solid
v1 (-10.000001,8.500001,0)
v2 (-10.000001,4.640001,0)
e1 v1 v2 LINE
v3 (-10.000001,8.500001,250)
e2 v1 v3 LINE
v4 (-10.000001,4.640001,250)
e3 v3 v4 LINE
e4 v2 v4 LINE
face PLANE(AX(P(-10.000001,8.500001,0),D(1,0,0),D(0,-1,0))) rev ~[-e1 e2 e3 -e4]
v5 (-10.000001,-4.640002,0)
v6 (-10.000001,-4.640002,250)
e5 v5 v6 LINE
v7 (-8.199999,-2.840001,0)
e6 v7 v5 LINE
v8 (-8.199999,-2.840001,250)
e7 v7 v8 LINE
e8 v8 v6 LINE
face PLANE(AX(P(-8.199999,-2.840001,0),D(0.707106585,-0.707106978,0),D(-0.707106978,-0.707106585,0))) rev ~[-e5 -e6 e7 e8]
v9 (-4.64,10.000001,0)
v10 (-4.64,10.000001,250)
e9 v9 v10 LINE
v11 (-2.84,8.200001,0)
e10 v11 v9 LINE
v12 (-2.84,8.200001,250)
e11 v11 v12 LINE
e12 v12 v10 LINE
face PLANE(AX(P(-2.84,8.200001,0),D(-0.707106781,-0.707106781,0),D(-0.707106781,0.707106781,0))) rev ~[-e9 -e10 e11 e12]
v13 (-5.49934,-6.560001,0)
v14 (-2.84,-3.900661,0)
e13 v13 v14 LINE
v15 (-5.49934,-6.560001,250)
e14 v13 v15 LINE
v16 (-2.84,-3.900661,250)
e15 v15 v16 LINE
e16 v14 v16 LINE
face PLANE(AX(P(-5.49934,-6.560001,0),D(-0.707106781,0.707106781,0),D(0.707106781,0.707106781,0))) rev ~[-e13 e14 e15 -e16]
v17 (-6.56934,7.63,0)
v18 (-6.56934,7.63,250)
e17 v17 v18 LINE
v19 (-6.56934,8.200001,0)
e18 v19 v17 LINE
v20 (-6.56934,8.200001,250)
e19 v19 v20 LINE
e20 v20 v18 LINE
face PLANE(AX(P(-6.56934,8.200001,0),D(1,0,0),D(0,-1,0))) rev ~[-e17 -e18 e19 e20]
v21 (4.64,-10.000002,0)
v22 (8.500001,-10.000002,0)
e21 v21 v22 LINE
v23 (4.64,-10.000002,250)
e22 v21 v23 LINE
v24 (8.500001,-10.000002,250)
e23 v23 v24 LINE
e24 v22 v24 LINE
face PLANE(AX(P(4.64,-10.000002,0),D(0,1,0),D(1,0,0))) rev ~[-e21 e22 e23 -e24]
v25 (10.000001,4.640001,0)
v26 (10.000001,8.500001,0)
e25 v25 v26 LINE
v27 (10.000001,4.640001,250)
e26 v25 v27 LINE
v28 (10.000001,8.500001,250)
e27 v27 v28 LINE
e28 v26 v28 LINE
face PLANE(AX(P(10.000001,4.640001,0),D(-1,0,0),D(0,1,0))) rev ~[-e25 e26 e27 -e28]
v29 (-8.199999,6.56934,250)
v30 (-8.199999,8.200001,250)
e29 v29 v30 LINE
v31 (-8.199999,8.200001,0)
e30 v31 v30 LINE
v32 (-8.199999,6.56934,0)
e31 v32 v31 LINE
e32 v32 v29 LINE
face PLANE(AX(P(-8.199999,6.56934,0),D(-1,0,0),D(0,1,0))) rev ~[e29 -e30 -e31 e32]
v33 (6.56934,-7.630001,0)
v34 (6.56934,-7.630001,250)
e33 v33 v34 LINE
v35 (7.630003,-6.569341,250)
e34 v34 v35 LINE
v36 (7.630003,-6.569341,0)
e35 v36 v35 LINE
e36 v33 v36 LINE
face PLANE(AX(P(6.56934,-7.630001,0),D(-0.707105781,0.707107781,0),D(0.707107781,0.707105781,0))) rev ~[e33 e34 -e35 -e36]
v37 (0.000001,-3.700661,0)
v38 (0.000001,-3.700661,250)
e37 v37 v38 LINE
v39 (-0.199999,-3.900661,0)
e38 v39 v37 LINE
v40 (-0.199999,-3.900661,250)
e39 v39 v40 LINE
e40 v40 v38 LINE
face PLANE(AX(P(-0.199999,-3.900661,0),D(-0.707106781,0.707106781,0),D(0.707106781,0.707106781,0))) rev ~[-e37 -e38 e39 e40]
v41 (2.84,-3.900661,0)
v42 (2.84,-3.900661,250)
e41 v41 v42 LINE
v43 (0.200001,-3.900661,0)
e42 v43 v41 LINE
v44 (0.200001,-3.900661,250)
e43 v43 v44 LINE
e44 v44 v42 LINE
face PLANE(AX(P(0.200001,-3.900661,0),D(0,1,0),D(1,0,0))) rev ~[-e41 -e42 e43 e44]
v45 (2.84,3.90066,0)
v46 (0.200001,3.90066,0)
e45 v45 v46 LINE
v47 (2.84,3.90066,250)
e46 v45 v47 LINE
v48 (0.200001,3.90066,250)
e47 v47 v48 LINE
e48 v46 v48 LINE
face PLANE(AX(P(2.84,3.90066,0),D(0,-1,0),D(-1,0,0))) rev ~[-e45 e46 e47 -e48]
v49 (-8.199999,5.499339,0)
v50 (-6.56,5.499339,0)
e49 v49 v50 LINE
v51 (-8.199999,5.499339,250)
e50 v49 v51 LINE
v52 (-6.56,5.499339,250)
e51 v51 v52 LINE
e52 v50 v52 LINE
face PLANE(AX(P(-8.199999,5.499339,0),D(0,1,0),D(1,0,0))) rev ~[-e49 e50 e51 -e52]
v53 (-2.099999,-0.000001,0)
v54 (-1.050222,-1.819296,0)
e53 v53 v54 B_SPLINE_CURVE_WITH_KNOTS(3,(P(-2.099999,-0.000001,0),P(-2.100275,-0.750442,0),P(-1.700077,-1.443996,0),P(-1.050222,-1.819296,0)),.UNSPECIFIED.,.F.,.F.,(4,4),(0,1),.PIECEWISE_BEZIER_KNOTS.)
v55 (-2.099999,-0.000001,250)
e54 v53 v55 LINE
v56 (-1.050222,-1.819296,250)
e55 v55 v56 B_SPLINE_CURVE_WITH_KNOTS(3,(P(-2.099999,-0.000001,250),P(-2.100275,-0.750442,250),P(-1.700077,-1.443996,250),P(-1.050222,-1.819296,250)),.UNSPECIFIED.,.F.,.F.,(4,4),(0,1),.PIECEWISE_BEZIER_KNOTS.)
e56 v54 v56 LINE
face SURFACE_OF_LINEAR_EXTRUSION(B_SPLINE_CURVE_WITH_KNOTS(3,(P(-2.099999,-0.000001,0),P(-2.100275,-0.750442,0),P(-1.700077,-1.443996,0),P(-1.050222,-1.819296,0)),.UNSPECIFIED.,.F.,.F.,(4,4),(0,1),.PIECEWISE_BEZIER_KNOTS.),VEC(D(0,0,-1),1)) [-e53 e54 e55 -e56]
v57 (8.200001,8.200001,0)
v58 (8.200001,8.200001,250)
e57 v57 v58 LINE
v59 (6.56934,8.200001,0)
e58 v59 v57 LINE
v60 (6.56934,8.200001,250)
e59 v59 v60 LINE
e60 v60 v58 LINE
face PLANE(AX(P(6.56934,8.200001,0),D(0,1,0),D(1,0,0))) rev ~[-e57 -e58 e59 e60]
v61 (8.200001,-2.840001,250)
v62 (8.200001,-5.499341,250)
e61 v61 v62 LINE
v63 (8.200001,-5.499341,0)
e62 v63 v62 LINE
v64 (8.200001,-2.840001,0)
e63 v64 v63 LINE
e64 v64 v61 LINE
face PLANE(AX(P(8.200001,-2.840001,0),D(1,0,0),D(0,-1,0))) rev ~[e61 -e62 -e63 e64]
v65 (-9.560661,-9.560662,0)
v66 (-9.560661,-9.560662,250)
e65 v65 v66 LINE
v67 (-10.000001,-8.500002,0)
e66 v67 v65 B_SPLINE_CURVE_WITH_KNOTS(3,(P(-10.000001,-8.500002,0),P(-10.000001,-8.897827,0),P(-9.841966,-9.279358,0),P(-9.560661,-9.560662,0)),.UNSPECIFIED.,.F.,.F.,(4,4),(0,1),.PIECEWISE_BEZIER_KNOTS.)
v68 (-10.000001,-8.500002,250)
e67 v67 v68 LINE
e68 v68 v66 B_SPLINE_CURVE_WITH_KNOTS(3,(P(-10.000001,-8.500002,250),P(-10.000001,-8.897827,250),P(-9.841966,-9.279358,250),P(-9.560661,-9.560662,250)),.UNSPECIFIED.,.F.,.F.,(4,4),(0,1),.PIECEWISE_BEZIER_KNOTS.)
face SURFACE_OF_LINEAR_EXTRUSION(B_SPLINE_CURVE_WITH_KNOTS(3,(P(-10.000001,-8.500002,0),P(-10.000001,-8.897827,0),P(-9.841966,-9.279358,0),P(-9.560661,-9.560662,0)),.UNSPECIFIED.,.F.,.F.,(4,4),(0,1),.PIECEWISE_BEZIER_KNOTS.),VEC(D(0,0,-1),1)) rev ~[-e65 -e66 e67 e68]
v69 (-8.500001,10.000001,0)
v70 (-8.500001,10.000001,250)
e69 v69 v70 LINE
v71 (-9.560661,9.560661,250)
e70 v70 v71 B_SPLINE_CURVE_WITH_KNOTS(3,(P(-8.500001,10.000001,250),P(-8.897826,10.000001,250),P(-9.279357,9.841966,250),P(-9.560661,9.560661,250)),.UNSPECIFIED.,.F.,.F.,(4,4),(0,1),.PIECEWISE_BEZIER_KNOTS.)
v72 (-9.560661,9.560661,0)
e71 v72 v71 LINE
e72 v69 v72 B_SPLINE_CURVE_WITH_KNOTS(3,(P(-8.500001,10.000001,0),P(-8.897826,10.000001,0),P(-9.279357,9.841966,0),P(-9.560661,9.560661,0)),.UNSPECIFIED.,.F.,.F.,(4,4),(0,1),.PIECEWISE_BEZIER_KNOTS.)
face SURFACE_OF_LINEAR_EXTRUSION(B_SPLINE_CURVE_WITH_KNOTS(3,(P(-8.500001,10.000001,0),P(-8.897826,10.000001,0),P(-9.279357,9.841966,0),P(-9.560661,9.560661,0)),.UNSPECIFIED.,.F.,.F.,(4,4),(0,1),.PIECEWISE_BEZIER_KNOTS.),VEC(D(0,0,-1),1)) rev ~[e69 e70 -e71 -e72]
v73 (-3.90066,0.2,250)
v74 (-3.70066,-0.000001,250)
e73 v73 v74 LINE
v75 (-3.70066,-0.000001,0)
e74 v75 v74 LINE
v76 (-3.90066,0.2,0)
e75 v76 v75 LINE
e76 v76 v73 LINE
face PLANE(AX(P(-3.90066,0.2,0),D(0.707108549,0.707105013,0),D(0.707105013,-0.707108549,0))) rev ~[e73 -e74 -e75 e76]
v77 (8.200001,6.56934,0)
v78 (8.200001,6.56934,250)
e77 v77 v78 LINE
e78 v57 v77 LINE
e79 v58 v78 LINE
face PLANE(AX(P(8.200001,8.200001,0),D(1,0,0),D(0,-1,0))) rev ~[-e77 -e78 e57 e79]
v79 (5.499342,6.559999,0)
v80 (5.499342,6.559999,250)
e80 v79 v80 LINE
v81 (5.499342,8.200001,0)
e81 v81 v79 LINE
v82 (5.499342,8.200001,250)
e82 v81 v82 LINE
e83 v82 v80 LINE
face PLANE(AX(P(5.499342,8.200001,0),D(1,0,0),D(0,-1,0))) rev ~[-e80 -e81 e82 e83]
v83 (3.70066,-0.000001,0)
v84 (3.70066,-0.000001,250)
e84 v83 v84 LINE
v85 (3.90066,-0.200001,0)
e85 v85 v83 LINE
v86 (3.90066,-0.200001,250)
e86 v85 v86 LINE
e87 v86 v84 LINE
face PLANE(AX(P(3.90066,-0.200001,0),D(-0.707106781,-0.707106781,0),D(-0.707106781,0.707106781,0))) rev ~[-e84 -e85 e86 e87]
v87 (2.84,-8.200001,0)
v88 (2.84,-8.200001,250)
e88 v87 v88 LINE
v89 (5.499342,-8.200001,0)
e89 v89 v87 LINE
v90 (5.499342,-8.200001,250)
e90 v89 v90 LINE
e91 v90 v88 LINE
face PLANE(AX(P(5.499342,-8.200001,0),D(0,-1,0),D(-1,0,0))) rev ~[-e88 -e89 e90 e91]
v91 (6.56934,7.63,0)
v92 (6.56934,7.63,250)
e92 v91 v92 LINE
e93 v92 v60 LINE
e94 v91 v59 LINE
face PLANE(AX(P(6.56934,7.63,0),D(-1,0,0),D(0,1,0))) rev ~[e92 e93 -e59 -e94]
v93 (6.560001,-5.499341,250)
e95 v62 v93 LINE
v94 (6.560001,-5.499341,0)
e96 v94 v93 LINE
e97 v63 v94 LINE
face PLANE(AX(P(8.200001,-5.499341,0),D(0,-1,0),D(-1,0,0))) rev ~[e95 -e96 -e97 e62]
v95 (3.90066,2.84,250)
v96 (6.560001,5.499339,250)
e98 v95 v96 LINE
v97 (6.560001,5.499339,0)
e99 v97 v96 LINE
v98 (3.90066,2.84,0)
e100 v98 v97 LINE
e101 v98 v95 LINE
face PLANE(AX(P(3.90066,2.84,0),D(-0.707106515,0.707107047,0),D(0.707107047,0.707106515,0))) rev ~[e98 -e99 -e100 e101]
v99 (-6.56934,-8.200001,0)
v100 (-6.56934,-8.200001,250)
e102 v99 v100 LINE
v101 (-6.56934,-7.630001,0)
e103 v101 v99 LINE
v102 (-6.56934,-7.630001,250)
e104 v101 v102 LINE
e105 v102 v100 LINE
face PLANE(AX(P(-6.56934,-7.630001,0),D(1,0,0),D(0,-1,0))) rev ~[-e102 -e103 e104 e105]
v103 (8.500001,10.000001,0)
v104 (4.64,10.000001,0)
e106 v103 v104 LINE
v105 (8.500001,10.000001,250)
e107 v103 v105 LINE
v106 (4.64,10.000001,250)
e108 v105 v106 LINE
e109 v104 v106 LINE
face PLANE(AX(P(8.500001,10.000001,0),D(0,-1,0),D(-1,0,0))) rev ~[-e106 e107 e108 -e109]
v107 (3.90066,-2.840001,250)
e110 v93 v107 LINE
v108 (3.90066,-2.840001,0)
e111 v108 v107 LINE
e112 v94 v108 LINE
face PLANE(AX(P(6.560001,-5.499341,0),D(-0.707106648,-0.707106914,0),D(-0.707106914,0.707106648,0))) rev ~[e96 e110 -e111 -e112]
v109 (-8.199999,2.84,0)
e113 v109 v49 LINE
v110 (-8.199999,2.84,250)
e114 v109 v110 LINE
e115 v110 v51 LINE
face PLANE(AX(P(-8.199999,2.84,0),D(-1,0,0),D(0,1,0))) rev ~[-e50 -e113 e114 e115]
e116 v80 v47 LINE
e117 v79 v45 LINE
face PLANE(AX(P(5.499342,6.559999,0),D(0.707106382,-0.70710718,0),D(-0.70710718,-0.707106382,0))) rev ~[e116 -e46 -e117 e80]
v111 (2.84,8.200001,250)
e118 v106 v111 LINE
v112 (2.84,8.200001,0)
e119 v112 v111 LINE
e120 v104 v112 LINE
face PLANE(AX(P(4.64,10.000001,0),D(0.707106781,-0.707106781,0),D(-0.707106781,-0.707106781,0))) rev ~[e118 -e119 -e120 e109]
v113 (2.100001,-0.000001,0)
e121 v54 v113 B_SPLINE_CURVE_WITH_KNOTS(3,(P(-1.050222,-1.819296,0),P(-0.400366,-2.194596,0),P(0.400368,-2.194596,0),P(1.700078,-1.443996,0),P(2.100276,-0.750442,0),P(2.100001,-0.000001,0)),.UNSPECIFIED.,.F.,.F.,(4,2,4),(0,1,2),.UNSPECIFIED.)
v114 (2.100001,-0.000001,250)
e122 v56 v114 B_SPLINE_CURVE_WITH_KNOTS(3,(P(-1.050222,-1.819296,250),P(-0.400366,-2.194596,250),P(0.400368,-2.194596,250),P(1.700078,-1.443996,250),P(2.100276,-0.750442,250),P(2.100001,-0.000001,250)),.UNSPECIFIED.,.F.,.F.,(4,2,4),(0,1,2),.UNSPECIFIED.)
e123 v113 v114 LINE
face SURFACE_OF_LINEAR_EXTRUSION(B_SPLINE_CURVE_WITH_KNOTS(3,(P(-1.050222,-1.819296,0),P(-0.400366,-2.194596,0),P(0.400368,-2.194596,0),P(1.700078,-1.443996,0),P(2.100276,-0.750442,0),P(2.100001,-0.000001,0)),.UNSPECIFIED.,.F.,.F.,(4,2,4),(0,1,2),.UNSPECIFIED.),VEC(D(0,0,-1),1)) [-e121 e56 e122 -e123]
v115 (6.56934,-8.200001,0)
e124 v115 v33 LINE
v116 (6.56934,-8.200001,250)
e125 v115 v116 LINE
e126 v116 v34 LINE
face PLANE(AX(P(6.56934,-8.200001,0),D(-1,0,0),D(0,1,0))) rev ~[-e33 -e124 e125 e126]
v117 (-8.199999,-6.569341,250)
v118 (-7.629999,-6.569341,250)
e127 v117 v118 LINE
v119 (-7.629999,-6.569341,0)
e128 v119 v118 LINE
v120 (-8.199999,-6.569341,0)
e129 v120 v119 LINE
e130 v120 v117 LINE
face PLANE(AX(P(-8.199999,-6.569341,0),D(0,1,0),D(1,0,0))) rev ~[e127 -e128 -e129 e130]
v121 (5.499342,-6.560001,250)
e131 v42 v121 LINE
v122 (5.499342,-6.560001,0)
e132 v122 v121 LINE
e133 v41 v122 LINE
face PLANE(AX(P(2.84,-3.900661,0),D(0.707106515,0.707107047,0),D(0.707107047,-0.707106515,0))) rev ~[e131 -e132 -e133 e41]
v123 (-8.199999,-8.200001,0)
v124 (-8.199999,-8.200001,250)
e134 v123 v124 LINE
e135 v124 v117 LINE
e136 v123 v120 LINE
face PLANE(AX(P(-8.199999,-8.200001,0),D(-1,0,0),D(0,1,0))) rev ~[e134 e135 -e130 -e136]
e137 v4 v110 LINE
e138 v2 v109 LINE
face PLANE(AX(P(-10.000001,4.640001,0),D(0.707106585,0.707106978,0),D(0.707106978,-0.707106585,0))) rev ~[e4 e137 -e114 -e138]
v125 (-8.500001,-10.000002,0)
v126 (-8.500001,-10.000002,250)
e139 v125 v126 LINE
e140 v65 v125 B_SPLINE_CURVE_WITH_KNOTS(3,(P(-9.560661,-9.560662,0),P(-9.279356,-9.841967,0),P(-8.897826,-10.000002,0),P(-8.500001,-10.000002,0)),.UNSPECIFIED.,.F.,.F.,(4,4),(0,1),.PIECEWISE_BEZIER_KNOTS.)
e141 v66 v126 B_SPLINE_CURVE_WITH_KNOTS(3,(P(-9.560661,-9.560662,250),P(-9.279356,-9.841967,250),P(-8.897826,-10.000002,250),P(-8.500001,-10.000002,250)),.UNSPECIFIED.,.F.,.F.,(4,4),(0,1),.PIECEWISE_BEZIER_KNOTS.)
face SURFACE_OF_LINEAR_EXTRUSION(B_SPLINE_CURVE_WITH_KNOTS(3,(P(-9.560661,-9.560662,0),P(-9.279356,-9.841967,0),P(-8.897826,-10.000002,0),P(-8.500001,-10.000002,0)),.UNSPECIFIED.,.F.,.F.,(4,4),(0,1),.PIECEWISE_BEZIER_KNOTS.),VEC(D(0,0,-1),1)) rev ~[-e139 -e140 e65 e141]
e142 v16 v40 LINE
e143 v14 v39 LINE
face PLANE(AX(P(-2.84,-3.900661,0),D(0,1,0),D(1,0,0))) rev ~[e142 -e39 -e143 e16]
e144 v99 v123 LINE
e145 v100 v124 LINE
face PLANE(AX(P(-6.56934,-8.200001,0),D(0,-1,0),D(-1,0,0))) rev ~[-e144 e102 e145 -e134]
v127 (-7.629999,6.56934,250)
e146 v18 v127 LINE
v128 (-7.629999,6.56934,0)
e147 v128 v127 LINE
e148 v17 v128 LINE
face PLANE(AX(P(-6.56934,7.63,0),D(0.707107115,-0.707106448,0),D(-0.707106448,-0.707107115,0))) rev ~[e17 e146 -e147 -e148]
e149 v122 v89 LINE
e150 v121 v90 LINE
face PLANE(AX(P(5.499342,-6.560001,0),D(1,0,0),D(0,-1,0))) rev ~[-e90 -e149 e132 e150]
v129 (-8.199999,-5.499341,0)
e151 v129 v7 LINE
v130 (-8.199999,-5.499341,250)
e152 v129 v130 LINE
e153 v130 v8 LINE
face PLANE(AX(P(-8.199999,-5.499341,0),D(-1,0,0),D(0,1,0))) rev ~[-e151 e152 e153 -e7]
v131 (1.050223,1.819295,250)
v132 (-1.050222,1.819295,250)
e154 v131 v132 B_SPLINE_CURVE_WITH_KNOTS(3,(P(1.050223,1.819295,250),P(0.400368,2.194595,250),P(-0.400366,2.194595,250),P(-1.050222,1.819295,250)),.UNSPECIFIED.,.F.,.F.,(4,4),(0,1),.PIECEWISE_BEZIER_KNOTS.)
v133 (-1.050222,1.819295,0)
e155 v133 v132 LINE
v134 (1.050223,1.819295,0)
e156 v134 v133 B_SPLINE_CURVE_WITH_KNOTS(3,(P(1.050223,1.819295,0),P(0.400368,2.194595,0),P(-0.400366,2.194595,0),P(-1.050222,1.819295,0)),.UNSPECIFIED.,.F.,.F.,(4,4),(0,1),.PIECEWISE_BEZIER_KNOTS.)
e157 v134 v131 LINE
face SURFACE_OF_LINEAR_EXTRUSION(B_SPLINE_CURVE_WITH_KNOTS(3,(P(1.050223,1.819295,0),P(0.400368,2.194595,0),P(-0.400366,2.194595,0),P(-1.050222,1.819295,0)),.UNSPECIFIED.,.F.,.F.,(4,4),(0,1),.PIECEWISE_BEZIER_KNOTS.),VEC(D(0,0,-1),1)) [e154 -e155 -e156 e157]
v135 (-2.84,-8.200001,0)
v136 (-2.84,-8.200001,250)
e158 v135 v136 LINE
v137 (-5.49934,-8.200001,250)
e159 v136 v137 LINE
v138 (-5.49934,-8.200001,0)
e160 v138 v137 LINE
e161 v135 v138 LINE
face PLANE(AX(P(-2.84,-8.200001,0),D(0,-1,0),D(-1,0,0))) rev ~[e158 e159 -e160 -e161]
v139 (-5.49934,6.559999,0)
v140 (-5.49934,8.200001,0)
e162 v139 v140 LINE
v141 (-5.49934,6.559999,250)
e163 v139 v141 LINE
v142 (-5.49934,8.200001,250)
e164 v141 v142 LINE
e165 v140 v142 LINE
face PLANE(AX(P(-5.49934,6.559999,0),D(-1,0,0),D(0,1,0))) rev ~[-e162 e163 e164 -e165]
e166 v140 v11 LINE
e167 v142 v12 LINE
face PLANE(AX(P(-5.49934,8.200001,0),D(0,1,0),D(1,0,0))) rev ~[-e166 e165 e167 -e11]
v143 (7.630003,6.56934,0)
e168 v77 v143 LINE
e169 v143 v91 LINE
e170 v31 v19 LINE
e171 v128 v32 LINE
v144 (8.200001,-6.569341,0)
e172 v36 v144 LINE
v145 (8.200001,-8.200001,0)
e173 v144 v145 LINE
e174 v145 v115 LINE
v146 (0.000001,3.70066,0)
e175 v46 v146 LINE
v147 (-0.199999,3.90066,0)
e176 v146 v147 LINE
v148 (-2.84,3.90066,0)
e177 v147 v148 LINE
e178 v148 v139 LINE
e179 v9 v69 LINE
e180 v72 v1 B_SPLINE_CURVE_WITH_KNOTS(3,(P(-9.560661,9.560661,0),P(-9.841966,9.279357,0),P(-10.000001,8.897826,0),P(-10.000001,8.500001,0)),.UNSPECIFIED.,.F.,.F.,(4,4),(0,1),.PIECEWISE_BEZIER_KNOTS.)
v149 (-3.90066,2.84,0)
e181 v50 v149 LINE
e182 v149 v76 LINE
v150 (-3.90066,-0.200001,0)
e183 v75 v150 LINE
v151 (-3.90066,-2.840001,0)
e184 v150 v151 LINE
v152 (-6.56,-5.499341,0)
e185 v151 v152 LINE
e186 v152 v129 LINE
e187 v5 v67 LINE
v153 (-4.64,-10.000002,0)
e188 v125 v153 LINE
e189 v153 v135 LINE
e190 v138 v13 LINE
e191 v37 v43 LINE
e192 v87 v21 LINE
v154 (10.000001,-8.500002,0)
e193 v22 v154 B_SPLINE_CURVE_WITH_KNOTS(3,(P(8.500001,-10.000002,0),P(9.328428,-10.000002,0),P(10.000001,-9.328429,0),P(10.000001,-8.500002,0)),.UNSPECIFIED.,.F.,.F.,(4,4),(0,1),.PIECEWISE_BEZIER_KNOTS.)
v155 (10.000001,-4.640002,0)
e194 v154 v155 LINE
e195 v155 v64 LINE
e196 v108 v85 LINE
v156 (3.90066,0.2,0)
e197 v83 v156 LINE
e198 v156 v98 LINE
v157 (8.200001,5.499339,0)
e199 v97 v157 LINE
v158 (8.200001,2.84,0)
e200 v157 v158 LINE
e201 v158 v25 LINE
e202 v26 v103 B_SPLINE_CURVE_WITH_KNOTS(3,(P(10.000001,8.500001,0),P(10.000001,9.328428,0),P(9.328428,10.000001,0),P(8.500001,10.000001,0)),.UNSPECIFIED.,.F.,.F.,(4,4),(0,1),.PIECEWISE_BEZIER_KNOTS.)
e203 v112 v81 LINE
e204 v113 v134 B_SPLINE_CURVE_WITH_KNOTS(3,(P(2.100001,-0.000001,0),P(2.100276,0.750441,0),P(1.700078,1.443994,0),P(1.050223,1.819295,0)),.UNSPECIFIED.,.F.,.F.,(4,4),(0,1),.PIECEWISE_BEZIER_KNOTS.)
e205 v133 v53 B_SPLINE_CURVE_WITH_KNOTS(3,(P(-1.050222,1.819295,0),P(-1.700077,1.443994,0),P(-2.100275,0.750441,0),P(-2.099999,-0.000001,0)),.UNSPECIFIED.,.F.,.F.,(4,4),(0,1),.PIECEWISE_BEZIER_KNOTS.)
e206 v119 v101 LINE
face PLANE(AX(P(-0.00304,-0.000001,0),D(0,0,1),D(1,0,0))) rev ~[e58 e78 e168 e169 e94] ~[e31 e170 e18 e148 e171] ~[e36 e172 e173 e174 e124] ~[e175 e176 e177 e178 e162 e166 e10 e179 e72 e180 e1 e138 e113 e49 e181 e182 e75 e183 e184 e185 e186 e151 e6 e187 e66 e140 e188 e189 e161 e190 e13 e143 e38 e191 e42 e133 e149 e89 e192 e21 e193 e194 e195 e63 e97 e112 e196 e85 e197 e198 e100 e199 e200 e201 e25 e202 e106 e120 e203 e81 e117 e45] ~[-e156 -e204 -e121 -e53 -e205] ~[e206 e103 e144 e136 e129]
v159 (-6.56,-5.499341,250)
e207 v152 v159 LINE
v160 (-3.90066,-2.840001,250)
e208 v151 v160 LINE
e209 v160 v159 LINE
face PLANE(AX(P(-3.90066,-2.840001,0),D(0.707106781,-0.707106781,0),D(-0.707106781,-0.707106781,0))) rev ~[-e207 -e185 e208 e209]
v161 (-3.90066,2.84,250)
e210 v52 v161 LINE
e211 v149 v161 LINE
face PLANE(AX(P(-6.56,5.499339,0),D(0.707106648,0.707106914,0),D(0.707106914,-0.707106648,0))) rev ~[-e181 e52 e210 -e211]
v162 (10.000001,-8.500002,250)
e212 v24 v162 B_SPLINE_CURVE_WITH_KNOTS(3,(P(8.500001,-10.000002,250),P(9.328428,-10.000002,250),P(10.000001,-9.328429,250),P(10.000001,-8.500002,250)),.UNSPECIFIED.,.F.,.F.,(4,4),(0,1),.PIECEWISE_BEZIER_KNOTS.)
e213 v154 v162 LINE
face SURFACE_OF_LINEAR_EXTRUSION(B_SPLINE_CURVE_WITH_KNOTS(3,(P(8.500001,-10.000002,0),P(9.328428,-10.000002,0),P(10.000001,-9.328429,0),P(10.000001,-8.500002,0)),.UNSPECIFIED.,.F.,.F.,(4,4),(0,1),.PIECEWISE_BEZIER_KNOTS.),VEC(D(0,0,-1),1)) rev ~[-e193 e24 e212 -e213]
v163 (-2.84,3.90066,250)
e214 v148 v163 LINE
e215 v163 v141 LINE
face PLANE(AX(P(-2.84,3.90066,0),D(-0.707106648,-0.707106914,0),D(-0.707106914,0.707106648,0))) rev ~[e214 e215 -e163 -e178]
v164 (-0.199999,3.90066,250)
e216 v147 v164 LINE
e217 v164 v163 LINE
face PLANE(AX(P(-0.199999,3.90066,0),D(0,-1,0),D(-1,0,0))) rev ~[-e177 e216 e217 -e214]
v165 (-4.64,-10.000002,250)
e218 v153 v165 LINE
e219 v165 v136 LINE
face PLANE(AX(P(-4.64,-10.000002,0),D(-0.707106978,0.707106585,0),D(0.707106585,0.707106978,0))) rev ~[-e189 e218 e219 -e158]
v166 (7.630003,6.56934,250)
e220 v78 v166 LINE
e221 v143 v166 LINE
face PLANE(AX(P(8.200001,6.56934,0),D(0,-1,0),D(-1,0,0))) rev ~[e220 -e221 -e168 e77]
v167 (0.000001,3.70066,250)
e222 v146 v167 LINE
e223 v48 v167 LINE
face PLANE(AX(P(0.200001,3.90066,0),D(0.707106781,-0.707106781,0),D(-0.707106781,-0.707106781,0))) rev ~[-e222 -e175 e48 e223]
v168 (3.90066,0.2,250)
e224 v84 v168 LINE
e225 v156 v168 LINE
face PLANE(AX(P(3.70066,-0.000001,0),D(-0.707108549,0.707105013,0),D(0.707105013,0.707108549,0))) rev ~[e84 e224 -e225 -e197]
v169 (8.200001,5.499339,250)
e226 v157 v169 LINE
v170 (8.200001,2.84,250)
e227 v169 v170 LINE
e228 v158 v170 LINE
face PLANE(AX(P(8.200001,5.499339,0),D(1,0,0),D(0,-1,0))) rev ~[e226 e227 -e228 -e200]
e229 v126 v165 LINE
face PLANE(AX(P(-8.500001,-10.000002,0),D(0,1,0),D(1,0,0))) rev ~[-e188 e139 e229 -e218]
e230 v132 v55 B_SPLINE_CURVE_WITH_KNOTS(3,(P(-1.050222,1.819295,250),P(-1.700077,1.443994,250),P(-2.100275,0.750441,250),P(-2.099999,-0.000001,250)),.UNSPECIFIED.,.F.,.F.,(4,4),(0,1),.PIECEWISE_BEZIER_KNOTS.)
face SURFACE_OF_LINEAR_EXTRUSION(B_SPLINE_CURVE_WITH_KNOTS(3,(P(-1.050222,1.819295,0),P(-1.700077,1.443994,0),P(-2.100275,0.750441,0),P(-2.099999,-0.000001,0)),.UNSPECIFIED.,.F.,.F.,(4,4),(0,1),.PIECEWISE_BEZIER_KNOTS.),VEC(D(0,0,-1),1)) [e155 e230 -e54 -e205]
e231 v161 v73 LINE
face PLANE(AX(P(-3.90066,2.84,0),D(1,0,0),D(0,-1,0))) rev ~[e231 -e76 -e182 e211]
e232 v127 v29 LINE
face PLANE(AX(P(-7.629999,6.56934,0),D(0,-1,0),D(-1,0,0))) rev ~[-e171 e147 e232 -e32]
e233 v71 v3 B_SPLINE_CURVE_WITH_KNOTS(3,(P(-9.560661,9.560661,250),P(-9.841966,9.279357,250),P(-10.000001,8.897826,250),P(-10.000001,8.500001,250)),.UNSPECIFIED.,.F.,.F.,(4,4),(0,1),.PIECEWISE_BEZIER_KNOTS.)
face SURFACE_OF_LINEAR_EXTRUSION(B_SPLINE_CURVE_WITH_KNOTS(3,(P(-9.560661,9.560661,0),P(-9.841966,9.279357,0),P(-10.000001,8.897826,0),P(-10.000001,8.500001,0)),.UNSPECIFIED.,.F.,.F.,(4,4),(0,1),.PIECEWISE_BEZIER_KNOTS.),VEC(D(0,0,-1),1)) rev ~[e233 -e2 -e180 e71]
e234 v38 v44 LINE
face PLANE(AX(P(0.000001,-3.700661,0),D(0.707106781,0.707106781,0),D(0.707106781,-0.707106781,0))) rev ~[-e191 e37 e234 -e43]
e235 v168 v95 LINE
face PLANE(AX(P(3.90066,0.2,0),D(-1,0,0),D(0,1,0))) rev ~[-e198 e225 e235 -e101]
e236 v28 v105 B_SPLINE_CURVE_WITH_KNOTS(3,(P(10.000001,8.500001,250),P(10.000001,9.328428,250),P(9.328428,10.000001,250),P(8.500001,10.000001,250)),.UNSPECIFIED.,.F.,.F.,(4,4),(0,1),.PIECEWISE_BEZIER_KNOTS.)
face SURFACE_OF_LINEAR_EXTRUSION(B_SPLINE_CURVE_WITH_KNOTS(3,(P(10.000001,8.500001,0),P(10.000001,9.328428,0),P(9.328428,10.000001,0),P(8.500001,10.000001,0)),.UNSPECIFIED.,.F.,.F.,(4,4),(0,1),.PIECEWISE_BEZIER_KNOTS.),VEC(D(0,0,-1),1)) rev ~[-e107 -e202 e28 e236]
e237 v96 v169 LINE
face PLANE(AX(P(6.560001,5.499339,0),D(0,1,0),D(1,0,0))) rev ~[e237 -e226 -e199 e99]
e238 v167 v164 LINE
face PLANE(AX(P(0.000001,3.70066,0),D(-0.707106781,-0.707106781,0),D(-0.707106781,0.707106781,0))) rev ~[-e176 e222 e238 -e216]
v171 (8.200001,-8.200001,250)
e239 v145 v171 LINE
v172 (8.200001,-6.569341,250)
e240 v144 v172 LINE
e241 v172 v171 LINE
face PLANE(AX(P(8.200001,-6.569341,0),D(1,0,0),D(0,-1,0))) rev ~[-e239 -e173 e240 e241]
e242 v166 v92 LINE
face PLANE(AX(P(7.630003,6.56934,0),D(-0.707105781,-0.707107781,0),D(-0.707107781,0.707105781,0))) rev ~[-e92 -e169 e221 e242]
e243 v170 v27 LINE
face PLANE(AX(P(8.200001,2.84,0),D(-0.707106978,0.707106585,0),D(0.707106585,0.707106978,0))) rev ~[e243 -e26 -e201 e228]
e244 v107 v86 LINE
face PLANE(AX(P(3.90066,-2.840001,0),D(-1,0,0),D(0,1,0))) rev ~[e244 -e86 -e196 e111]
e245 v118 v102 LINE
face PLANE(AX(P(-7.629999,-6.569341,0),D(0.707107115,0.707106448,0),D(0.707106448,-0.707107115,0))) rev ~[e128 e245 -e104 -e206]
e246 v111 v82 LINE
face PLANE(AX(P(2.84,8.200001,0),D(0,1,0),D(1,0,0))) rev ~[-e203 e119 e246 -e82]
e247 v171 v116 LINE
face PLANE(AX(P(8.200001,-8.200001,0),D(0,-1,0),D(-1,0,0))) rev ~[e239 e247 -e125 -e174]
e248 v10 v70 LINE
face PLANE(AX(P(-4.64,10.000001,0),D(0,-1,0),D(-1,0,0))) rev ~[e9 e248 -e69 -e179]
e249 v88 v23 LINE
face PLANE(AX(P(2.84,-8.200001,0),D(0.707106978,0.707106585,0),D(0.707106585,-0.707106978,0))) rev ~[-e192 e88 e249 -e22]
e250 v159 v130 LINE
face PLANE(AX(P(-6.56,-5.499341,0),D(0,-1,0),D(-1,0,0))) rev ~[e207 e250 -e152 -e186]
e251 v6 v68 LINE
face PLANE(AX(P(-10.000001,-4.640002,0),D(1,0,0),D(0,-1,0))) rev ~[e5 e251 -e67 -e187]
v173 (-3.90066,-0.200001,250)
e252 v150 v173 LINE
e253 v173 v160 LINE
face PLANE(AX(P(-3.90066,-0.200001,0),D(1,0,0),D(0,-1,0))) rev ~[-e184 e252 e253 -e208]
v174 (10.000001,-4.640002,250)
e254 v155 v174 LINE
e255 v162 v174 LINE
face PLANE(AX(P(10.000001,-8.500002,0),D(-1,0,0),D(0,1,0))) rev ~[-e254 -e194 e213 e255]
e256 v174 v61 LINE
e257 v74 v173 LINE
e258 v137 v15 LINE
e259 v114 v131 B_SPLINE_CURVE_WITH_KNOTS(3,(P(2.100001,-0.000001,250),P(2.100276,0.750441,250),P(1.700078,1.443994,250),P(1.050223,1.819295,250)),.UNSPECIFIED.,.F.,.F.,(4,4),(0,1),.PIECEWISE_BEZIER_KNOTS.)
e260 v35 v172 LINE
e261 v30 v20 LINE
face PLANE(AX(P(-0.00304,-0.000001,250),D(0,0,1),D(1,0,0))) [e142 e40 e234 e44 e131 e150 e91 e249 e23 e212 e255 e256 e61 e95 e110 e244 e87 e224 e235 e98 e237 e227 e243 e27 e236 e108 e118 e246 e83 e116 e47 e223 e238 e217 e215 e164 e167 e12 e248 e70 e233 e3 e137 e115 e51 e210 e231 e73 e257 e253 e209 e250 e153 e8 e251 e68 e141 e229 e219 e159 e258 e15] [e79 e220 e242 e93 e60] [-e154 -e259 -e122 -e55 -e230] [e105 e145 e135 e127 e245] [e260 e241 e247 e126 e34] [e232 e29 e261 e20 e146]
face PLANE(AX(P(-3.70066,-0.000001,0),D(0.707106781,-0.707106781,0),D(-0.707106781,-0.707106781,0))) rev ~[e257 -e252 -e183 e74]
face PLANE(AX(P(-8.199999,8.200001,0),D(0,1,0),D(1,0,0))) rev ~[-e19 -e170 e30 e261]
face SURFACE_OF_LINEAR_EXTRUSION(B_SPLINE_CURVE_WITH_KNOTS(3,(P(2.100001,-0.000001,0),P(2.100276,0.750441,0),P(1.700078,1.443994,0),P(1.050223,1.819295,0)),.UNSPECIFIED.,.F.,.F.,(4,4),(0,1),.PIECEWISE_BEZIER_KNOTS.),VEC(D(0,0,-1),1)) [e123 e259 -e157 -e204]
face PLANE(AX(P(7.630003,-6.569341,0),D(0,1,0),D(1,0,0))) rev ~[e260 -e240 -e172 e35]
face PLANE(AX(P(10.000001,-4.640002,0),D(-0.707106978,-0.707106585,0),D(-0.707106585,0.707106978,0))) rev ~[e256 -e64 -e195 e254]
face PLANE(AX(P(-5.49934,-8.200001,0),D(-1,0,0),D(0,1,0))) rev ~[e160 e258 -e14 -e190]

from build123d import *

# Parameters (mm, degrees)
F1_DEPTH = 250


with BuildPart() as f1:
    # F0 (on Top) → F1 (new body)
    with BuildSketch(Plane.XY):
        with BuildLine():
            Line((-4.64, 10.000001), (-8.500001, 10.000001))
            add(Edge.make_bspline(
                [(-8.500001, 10.000001), (-8.897826, 10.000001), (-9.279357, 9.841966), (-9.560661, 9.560661)],
                knots=[0, 0, 0, 0, 1, 1, 1, 1], degree=3))
            add(Edge.make_bspline(
                [(-9.560661, 9.560661), (-9.841966, 9.279357), (-10.000001, 8.897826), (-10.000001, 8.500001)],
                knots=[0, 0, 0, 0, 1, 1, 1, 1], degree=3))
            Line((-10.000001, 8.500001), (-10.000001, 4.640001))
            Line((-10.000001, 4.640001), (-8.199999, 2.84))
            Line((-8.199999, 2.84), (-8.199999, 5.499339))
            Line((-8.199999, 5.499339), (-6.56, 5.499339))
            Line((-6.56, 5.499339), (-3.90066, 2.84))
            Line((-3.90066, 2.84), (-3.90066, 0.2))
            Line((-3.90066, 0.2), (-3.70066, -1e-06))
            Line((-3.70066, -1e-06), (-3.90066, -0.200001))
            Line((-3.90066, -0.200001), (-3.90066, -2.840001))
            Line((-3.90066, -2.840001), (-6.56, -5.499341))
            Line((-6.56, -5.499341), (-8.199999, -5.499341))
            Line((-8.199999, -5.499341), (-8.199999, -2.840001))
            Line((-8.199999, -2.840001), (-10.000001, -4.640002))
            Line((-10.000001, -4.640002), (-10.000001, -8.500002))
            add(Edge.make_bspline(
                [(-10.000001, -8.500002), (-10.000001, -8.897827), (-9.841966, -9.279358), (-9.560661, -9.560662)],
                knots=[0, 0, 0, 0, 1, 1, 1, 1], degree=3))
            add(Edge.make_bspline(
                [(-9.560661, -9.560662), (-9.279356, -9.841967), (-8.897826, -10.000002), (-8.500001, -10.000002)],
                knots=[0, 0, 0, 0, 1, 1, 1, 1], degree=3))
            Line((-8.500001, -10.000002), (-4.64, -10.000002))
            Line((-4.64, -10.000002), (-2.84, -8.200001))
            Line((-2.84, -8.200001), (-5.49934, -8.200001))
            Line((-5.49934, -8.200001), (-5.49934, -6.560001))
            Line((-5.49934, -6.560001), (-2.84, -3.900661))
            Line((-2.84, -3.900661), (-0.199999, -3.900661))
            Line((-0.199999, -3.900661), (1e-06, -3.700661))
            Line((1e-06, -3.700661), (0.200001, -3.900661))
            Line((0.200001, -3.900661), (2.84, -3.900661))
            Line((2.84, -3.900661), (5.499342, -6.560001))
            Line((5.499342, -6.560001), (5.499342, -8.200001))
            Line((5.499342, -8.200001), (2.84, -8.200001))
            Line((2.84, -8.200001), (4.64, -10.000002))
            Line((4.64, -10.000002), (8.500001, -10.000002))
            add(Edge.make_bspline(
                [(8.500001, -10.000002), (9.328428, -10.000002), (10.000001, -9.328429), (10.000001, -8.500002)],
                knots=[0, 0, 0, 0, 1, 1, 1, 1], degree=3))
            Line((10.000001, -8.500002), (10.000001, -4.640002))
            Line((10.000001, -4.640002), (8.200001, -2.840001))
            Line((8.200001, -2.840001), (8.200001, -5.499341))
            Line((8.200001, -5.499341), (6.560001, -5.499341))
            Line((6.560001, -5.499341), (3.90066, -2.840001))
            Line((3.90066, -2.840001), (3.90066, -0.200001))
            Line((3.90066, -0.200001), (3.70066, -1e-06))
            Line((3.70066, -1e-06), (3.90066, 0.2))
            Line((3.90066, 0.2), (3.90066, 2.84))
            Line((3.90066, 2.84), (6.560001, 5.499339))
            Line((6.560001, 5.499339), (8.200001, 5.499339))
            Line((8.200001, 5.499339), (8.200001, 2.84))
            Line((8.200001, 2.84), (10.000001, 4.640001))
            Line((10.000001, 4.640001), (10.000001, 8.500001))
            add(Edge.make_bspline(
                [(10.000001, 8.500001), (10.000001, 9.328428), (9.328428, 10.000001), (8.500001, 10.000001)],
                knots=[0, 0, 0, 0, 1, 1, 1, 1], degree=3))
            Line((8.500001, 10.000001), (4.64, 10.000001))
            Line((4.64, 10.000001), (2.84, 8.200001))
            Line((2.84, 8.200001), (5.499342, 8.200001))
            Line((5.499342, 8.200001), (5.499342, 6.559999))
            Line((5.499342, 6.559999), (2.84, 3.90066))
            Line((2.84, 3.90066), (0.200001, 3.90066))
            Line((0.200001, 3.90066), (1e-06, 3.70066))
            Line((1e-06, 3.70066), (-0.199999, 3.90066))
            Line((-0.199999, 3.90066), (-2.84, 3.90066))
            Line((-2.84, 3.90066), (-5.49934, 6.559999))
            Line((-5.49934, 6.559999), (-5.49934, 8.200001))
            Line((-5.49934, 8.200001), (-2.84, 8.200001))
            Line((-2.84, 8.200001), (-4.64, 10.000001))
        make_face()
        Polygon((-6.56934, -8.200001), (-8.199999, -8.200001), (-8.199999, -6.569341), (-7.629999, -6.569341), (-6.56934, -7.630001), align=None, mode=Mode.SUBTRACT)
        Polygon((8.200001, -8.200001), (6.56934, -8.200001), (6.56934, -7.630001), (7.630003, -6.569341), (8.200001, -6.569341), align=None, mode=Mode.SUBTRACT)
        Polygon((-8.199999, 8.200001), (-6.56934, 8.200001), (-6.56934, 7.63), (-7.629999, 6.56934), (-8.199999, 6.56934), align=None, mode=Mode.SUBTRACT)
        with BuildLine():
            add(Edge.make_bspline(
                [(2.100001, -1e-06), (2.100276, 0.750441), (1.700078, 1.443994), (1.050223, 1.819295)],
                knots=[0, 0, 0, 0, 1, 1, 1, 1], degree=3))
            add(Edge.make_bspline(
                [(1.050223, -1.819296), (1.700078, -1.443996), (2.100276, -0.750442), (2.100001, -1e-06)],
                knots=[0, 0, 0, 0, 1, 1, 1, 1], degree=3))
            add(Edge.make_bspline(
                [(-1.050222, -1.819296), (-0.400366, -2.194596), (0.400368, -2.194596), (1.050223, -1.819296)],
                knots=[0, 0, 0, 0, 1, 1, 1, 1], degree=3))
            add(Edge.make_bspline(
                [(-2.099999, -1e-06), (-2.100275, -0.750442), (-1.700077, -1.443996), (-1.050222, -1.819296)],
                knots=[0, 0, 0, 0, 1, 1, 1, 1], degree=3))
            add(Edge.make_bspline(
                [(-1.050222, 1.819295), (-1.700077, 1.443994), (-2.100275, 0.750441), (-2.099999, -1e-06)],
                knots=[0, 0, 0, 0, 1, 1, 1, 1], degree=3))
            add(Edge.make_bspline(
                [(1.050223, 1.819295), (0.400368, 2.194595), (-0.400366, 2.194595), (-1.050222, 1.819295)],
                knots=[0, 0, 0, 0, 1, 1, 1, 1], degree=3))
        make_face(mode=Mode.SUBTRACT)
        Polygon((6.56934, 8.200001), (8.200001, 8.200001), (8.200001, 6.56934), (7.630003, 6.56934), (6.56934, 7.63), align=None, mode=Mode.SUBTRACT)
    extrude(amount=F1_DEPTH)


solid = f1.part
